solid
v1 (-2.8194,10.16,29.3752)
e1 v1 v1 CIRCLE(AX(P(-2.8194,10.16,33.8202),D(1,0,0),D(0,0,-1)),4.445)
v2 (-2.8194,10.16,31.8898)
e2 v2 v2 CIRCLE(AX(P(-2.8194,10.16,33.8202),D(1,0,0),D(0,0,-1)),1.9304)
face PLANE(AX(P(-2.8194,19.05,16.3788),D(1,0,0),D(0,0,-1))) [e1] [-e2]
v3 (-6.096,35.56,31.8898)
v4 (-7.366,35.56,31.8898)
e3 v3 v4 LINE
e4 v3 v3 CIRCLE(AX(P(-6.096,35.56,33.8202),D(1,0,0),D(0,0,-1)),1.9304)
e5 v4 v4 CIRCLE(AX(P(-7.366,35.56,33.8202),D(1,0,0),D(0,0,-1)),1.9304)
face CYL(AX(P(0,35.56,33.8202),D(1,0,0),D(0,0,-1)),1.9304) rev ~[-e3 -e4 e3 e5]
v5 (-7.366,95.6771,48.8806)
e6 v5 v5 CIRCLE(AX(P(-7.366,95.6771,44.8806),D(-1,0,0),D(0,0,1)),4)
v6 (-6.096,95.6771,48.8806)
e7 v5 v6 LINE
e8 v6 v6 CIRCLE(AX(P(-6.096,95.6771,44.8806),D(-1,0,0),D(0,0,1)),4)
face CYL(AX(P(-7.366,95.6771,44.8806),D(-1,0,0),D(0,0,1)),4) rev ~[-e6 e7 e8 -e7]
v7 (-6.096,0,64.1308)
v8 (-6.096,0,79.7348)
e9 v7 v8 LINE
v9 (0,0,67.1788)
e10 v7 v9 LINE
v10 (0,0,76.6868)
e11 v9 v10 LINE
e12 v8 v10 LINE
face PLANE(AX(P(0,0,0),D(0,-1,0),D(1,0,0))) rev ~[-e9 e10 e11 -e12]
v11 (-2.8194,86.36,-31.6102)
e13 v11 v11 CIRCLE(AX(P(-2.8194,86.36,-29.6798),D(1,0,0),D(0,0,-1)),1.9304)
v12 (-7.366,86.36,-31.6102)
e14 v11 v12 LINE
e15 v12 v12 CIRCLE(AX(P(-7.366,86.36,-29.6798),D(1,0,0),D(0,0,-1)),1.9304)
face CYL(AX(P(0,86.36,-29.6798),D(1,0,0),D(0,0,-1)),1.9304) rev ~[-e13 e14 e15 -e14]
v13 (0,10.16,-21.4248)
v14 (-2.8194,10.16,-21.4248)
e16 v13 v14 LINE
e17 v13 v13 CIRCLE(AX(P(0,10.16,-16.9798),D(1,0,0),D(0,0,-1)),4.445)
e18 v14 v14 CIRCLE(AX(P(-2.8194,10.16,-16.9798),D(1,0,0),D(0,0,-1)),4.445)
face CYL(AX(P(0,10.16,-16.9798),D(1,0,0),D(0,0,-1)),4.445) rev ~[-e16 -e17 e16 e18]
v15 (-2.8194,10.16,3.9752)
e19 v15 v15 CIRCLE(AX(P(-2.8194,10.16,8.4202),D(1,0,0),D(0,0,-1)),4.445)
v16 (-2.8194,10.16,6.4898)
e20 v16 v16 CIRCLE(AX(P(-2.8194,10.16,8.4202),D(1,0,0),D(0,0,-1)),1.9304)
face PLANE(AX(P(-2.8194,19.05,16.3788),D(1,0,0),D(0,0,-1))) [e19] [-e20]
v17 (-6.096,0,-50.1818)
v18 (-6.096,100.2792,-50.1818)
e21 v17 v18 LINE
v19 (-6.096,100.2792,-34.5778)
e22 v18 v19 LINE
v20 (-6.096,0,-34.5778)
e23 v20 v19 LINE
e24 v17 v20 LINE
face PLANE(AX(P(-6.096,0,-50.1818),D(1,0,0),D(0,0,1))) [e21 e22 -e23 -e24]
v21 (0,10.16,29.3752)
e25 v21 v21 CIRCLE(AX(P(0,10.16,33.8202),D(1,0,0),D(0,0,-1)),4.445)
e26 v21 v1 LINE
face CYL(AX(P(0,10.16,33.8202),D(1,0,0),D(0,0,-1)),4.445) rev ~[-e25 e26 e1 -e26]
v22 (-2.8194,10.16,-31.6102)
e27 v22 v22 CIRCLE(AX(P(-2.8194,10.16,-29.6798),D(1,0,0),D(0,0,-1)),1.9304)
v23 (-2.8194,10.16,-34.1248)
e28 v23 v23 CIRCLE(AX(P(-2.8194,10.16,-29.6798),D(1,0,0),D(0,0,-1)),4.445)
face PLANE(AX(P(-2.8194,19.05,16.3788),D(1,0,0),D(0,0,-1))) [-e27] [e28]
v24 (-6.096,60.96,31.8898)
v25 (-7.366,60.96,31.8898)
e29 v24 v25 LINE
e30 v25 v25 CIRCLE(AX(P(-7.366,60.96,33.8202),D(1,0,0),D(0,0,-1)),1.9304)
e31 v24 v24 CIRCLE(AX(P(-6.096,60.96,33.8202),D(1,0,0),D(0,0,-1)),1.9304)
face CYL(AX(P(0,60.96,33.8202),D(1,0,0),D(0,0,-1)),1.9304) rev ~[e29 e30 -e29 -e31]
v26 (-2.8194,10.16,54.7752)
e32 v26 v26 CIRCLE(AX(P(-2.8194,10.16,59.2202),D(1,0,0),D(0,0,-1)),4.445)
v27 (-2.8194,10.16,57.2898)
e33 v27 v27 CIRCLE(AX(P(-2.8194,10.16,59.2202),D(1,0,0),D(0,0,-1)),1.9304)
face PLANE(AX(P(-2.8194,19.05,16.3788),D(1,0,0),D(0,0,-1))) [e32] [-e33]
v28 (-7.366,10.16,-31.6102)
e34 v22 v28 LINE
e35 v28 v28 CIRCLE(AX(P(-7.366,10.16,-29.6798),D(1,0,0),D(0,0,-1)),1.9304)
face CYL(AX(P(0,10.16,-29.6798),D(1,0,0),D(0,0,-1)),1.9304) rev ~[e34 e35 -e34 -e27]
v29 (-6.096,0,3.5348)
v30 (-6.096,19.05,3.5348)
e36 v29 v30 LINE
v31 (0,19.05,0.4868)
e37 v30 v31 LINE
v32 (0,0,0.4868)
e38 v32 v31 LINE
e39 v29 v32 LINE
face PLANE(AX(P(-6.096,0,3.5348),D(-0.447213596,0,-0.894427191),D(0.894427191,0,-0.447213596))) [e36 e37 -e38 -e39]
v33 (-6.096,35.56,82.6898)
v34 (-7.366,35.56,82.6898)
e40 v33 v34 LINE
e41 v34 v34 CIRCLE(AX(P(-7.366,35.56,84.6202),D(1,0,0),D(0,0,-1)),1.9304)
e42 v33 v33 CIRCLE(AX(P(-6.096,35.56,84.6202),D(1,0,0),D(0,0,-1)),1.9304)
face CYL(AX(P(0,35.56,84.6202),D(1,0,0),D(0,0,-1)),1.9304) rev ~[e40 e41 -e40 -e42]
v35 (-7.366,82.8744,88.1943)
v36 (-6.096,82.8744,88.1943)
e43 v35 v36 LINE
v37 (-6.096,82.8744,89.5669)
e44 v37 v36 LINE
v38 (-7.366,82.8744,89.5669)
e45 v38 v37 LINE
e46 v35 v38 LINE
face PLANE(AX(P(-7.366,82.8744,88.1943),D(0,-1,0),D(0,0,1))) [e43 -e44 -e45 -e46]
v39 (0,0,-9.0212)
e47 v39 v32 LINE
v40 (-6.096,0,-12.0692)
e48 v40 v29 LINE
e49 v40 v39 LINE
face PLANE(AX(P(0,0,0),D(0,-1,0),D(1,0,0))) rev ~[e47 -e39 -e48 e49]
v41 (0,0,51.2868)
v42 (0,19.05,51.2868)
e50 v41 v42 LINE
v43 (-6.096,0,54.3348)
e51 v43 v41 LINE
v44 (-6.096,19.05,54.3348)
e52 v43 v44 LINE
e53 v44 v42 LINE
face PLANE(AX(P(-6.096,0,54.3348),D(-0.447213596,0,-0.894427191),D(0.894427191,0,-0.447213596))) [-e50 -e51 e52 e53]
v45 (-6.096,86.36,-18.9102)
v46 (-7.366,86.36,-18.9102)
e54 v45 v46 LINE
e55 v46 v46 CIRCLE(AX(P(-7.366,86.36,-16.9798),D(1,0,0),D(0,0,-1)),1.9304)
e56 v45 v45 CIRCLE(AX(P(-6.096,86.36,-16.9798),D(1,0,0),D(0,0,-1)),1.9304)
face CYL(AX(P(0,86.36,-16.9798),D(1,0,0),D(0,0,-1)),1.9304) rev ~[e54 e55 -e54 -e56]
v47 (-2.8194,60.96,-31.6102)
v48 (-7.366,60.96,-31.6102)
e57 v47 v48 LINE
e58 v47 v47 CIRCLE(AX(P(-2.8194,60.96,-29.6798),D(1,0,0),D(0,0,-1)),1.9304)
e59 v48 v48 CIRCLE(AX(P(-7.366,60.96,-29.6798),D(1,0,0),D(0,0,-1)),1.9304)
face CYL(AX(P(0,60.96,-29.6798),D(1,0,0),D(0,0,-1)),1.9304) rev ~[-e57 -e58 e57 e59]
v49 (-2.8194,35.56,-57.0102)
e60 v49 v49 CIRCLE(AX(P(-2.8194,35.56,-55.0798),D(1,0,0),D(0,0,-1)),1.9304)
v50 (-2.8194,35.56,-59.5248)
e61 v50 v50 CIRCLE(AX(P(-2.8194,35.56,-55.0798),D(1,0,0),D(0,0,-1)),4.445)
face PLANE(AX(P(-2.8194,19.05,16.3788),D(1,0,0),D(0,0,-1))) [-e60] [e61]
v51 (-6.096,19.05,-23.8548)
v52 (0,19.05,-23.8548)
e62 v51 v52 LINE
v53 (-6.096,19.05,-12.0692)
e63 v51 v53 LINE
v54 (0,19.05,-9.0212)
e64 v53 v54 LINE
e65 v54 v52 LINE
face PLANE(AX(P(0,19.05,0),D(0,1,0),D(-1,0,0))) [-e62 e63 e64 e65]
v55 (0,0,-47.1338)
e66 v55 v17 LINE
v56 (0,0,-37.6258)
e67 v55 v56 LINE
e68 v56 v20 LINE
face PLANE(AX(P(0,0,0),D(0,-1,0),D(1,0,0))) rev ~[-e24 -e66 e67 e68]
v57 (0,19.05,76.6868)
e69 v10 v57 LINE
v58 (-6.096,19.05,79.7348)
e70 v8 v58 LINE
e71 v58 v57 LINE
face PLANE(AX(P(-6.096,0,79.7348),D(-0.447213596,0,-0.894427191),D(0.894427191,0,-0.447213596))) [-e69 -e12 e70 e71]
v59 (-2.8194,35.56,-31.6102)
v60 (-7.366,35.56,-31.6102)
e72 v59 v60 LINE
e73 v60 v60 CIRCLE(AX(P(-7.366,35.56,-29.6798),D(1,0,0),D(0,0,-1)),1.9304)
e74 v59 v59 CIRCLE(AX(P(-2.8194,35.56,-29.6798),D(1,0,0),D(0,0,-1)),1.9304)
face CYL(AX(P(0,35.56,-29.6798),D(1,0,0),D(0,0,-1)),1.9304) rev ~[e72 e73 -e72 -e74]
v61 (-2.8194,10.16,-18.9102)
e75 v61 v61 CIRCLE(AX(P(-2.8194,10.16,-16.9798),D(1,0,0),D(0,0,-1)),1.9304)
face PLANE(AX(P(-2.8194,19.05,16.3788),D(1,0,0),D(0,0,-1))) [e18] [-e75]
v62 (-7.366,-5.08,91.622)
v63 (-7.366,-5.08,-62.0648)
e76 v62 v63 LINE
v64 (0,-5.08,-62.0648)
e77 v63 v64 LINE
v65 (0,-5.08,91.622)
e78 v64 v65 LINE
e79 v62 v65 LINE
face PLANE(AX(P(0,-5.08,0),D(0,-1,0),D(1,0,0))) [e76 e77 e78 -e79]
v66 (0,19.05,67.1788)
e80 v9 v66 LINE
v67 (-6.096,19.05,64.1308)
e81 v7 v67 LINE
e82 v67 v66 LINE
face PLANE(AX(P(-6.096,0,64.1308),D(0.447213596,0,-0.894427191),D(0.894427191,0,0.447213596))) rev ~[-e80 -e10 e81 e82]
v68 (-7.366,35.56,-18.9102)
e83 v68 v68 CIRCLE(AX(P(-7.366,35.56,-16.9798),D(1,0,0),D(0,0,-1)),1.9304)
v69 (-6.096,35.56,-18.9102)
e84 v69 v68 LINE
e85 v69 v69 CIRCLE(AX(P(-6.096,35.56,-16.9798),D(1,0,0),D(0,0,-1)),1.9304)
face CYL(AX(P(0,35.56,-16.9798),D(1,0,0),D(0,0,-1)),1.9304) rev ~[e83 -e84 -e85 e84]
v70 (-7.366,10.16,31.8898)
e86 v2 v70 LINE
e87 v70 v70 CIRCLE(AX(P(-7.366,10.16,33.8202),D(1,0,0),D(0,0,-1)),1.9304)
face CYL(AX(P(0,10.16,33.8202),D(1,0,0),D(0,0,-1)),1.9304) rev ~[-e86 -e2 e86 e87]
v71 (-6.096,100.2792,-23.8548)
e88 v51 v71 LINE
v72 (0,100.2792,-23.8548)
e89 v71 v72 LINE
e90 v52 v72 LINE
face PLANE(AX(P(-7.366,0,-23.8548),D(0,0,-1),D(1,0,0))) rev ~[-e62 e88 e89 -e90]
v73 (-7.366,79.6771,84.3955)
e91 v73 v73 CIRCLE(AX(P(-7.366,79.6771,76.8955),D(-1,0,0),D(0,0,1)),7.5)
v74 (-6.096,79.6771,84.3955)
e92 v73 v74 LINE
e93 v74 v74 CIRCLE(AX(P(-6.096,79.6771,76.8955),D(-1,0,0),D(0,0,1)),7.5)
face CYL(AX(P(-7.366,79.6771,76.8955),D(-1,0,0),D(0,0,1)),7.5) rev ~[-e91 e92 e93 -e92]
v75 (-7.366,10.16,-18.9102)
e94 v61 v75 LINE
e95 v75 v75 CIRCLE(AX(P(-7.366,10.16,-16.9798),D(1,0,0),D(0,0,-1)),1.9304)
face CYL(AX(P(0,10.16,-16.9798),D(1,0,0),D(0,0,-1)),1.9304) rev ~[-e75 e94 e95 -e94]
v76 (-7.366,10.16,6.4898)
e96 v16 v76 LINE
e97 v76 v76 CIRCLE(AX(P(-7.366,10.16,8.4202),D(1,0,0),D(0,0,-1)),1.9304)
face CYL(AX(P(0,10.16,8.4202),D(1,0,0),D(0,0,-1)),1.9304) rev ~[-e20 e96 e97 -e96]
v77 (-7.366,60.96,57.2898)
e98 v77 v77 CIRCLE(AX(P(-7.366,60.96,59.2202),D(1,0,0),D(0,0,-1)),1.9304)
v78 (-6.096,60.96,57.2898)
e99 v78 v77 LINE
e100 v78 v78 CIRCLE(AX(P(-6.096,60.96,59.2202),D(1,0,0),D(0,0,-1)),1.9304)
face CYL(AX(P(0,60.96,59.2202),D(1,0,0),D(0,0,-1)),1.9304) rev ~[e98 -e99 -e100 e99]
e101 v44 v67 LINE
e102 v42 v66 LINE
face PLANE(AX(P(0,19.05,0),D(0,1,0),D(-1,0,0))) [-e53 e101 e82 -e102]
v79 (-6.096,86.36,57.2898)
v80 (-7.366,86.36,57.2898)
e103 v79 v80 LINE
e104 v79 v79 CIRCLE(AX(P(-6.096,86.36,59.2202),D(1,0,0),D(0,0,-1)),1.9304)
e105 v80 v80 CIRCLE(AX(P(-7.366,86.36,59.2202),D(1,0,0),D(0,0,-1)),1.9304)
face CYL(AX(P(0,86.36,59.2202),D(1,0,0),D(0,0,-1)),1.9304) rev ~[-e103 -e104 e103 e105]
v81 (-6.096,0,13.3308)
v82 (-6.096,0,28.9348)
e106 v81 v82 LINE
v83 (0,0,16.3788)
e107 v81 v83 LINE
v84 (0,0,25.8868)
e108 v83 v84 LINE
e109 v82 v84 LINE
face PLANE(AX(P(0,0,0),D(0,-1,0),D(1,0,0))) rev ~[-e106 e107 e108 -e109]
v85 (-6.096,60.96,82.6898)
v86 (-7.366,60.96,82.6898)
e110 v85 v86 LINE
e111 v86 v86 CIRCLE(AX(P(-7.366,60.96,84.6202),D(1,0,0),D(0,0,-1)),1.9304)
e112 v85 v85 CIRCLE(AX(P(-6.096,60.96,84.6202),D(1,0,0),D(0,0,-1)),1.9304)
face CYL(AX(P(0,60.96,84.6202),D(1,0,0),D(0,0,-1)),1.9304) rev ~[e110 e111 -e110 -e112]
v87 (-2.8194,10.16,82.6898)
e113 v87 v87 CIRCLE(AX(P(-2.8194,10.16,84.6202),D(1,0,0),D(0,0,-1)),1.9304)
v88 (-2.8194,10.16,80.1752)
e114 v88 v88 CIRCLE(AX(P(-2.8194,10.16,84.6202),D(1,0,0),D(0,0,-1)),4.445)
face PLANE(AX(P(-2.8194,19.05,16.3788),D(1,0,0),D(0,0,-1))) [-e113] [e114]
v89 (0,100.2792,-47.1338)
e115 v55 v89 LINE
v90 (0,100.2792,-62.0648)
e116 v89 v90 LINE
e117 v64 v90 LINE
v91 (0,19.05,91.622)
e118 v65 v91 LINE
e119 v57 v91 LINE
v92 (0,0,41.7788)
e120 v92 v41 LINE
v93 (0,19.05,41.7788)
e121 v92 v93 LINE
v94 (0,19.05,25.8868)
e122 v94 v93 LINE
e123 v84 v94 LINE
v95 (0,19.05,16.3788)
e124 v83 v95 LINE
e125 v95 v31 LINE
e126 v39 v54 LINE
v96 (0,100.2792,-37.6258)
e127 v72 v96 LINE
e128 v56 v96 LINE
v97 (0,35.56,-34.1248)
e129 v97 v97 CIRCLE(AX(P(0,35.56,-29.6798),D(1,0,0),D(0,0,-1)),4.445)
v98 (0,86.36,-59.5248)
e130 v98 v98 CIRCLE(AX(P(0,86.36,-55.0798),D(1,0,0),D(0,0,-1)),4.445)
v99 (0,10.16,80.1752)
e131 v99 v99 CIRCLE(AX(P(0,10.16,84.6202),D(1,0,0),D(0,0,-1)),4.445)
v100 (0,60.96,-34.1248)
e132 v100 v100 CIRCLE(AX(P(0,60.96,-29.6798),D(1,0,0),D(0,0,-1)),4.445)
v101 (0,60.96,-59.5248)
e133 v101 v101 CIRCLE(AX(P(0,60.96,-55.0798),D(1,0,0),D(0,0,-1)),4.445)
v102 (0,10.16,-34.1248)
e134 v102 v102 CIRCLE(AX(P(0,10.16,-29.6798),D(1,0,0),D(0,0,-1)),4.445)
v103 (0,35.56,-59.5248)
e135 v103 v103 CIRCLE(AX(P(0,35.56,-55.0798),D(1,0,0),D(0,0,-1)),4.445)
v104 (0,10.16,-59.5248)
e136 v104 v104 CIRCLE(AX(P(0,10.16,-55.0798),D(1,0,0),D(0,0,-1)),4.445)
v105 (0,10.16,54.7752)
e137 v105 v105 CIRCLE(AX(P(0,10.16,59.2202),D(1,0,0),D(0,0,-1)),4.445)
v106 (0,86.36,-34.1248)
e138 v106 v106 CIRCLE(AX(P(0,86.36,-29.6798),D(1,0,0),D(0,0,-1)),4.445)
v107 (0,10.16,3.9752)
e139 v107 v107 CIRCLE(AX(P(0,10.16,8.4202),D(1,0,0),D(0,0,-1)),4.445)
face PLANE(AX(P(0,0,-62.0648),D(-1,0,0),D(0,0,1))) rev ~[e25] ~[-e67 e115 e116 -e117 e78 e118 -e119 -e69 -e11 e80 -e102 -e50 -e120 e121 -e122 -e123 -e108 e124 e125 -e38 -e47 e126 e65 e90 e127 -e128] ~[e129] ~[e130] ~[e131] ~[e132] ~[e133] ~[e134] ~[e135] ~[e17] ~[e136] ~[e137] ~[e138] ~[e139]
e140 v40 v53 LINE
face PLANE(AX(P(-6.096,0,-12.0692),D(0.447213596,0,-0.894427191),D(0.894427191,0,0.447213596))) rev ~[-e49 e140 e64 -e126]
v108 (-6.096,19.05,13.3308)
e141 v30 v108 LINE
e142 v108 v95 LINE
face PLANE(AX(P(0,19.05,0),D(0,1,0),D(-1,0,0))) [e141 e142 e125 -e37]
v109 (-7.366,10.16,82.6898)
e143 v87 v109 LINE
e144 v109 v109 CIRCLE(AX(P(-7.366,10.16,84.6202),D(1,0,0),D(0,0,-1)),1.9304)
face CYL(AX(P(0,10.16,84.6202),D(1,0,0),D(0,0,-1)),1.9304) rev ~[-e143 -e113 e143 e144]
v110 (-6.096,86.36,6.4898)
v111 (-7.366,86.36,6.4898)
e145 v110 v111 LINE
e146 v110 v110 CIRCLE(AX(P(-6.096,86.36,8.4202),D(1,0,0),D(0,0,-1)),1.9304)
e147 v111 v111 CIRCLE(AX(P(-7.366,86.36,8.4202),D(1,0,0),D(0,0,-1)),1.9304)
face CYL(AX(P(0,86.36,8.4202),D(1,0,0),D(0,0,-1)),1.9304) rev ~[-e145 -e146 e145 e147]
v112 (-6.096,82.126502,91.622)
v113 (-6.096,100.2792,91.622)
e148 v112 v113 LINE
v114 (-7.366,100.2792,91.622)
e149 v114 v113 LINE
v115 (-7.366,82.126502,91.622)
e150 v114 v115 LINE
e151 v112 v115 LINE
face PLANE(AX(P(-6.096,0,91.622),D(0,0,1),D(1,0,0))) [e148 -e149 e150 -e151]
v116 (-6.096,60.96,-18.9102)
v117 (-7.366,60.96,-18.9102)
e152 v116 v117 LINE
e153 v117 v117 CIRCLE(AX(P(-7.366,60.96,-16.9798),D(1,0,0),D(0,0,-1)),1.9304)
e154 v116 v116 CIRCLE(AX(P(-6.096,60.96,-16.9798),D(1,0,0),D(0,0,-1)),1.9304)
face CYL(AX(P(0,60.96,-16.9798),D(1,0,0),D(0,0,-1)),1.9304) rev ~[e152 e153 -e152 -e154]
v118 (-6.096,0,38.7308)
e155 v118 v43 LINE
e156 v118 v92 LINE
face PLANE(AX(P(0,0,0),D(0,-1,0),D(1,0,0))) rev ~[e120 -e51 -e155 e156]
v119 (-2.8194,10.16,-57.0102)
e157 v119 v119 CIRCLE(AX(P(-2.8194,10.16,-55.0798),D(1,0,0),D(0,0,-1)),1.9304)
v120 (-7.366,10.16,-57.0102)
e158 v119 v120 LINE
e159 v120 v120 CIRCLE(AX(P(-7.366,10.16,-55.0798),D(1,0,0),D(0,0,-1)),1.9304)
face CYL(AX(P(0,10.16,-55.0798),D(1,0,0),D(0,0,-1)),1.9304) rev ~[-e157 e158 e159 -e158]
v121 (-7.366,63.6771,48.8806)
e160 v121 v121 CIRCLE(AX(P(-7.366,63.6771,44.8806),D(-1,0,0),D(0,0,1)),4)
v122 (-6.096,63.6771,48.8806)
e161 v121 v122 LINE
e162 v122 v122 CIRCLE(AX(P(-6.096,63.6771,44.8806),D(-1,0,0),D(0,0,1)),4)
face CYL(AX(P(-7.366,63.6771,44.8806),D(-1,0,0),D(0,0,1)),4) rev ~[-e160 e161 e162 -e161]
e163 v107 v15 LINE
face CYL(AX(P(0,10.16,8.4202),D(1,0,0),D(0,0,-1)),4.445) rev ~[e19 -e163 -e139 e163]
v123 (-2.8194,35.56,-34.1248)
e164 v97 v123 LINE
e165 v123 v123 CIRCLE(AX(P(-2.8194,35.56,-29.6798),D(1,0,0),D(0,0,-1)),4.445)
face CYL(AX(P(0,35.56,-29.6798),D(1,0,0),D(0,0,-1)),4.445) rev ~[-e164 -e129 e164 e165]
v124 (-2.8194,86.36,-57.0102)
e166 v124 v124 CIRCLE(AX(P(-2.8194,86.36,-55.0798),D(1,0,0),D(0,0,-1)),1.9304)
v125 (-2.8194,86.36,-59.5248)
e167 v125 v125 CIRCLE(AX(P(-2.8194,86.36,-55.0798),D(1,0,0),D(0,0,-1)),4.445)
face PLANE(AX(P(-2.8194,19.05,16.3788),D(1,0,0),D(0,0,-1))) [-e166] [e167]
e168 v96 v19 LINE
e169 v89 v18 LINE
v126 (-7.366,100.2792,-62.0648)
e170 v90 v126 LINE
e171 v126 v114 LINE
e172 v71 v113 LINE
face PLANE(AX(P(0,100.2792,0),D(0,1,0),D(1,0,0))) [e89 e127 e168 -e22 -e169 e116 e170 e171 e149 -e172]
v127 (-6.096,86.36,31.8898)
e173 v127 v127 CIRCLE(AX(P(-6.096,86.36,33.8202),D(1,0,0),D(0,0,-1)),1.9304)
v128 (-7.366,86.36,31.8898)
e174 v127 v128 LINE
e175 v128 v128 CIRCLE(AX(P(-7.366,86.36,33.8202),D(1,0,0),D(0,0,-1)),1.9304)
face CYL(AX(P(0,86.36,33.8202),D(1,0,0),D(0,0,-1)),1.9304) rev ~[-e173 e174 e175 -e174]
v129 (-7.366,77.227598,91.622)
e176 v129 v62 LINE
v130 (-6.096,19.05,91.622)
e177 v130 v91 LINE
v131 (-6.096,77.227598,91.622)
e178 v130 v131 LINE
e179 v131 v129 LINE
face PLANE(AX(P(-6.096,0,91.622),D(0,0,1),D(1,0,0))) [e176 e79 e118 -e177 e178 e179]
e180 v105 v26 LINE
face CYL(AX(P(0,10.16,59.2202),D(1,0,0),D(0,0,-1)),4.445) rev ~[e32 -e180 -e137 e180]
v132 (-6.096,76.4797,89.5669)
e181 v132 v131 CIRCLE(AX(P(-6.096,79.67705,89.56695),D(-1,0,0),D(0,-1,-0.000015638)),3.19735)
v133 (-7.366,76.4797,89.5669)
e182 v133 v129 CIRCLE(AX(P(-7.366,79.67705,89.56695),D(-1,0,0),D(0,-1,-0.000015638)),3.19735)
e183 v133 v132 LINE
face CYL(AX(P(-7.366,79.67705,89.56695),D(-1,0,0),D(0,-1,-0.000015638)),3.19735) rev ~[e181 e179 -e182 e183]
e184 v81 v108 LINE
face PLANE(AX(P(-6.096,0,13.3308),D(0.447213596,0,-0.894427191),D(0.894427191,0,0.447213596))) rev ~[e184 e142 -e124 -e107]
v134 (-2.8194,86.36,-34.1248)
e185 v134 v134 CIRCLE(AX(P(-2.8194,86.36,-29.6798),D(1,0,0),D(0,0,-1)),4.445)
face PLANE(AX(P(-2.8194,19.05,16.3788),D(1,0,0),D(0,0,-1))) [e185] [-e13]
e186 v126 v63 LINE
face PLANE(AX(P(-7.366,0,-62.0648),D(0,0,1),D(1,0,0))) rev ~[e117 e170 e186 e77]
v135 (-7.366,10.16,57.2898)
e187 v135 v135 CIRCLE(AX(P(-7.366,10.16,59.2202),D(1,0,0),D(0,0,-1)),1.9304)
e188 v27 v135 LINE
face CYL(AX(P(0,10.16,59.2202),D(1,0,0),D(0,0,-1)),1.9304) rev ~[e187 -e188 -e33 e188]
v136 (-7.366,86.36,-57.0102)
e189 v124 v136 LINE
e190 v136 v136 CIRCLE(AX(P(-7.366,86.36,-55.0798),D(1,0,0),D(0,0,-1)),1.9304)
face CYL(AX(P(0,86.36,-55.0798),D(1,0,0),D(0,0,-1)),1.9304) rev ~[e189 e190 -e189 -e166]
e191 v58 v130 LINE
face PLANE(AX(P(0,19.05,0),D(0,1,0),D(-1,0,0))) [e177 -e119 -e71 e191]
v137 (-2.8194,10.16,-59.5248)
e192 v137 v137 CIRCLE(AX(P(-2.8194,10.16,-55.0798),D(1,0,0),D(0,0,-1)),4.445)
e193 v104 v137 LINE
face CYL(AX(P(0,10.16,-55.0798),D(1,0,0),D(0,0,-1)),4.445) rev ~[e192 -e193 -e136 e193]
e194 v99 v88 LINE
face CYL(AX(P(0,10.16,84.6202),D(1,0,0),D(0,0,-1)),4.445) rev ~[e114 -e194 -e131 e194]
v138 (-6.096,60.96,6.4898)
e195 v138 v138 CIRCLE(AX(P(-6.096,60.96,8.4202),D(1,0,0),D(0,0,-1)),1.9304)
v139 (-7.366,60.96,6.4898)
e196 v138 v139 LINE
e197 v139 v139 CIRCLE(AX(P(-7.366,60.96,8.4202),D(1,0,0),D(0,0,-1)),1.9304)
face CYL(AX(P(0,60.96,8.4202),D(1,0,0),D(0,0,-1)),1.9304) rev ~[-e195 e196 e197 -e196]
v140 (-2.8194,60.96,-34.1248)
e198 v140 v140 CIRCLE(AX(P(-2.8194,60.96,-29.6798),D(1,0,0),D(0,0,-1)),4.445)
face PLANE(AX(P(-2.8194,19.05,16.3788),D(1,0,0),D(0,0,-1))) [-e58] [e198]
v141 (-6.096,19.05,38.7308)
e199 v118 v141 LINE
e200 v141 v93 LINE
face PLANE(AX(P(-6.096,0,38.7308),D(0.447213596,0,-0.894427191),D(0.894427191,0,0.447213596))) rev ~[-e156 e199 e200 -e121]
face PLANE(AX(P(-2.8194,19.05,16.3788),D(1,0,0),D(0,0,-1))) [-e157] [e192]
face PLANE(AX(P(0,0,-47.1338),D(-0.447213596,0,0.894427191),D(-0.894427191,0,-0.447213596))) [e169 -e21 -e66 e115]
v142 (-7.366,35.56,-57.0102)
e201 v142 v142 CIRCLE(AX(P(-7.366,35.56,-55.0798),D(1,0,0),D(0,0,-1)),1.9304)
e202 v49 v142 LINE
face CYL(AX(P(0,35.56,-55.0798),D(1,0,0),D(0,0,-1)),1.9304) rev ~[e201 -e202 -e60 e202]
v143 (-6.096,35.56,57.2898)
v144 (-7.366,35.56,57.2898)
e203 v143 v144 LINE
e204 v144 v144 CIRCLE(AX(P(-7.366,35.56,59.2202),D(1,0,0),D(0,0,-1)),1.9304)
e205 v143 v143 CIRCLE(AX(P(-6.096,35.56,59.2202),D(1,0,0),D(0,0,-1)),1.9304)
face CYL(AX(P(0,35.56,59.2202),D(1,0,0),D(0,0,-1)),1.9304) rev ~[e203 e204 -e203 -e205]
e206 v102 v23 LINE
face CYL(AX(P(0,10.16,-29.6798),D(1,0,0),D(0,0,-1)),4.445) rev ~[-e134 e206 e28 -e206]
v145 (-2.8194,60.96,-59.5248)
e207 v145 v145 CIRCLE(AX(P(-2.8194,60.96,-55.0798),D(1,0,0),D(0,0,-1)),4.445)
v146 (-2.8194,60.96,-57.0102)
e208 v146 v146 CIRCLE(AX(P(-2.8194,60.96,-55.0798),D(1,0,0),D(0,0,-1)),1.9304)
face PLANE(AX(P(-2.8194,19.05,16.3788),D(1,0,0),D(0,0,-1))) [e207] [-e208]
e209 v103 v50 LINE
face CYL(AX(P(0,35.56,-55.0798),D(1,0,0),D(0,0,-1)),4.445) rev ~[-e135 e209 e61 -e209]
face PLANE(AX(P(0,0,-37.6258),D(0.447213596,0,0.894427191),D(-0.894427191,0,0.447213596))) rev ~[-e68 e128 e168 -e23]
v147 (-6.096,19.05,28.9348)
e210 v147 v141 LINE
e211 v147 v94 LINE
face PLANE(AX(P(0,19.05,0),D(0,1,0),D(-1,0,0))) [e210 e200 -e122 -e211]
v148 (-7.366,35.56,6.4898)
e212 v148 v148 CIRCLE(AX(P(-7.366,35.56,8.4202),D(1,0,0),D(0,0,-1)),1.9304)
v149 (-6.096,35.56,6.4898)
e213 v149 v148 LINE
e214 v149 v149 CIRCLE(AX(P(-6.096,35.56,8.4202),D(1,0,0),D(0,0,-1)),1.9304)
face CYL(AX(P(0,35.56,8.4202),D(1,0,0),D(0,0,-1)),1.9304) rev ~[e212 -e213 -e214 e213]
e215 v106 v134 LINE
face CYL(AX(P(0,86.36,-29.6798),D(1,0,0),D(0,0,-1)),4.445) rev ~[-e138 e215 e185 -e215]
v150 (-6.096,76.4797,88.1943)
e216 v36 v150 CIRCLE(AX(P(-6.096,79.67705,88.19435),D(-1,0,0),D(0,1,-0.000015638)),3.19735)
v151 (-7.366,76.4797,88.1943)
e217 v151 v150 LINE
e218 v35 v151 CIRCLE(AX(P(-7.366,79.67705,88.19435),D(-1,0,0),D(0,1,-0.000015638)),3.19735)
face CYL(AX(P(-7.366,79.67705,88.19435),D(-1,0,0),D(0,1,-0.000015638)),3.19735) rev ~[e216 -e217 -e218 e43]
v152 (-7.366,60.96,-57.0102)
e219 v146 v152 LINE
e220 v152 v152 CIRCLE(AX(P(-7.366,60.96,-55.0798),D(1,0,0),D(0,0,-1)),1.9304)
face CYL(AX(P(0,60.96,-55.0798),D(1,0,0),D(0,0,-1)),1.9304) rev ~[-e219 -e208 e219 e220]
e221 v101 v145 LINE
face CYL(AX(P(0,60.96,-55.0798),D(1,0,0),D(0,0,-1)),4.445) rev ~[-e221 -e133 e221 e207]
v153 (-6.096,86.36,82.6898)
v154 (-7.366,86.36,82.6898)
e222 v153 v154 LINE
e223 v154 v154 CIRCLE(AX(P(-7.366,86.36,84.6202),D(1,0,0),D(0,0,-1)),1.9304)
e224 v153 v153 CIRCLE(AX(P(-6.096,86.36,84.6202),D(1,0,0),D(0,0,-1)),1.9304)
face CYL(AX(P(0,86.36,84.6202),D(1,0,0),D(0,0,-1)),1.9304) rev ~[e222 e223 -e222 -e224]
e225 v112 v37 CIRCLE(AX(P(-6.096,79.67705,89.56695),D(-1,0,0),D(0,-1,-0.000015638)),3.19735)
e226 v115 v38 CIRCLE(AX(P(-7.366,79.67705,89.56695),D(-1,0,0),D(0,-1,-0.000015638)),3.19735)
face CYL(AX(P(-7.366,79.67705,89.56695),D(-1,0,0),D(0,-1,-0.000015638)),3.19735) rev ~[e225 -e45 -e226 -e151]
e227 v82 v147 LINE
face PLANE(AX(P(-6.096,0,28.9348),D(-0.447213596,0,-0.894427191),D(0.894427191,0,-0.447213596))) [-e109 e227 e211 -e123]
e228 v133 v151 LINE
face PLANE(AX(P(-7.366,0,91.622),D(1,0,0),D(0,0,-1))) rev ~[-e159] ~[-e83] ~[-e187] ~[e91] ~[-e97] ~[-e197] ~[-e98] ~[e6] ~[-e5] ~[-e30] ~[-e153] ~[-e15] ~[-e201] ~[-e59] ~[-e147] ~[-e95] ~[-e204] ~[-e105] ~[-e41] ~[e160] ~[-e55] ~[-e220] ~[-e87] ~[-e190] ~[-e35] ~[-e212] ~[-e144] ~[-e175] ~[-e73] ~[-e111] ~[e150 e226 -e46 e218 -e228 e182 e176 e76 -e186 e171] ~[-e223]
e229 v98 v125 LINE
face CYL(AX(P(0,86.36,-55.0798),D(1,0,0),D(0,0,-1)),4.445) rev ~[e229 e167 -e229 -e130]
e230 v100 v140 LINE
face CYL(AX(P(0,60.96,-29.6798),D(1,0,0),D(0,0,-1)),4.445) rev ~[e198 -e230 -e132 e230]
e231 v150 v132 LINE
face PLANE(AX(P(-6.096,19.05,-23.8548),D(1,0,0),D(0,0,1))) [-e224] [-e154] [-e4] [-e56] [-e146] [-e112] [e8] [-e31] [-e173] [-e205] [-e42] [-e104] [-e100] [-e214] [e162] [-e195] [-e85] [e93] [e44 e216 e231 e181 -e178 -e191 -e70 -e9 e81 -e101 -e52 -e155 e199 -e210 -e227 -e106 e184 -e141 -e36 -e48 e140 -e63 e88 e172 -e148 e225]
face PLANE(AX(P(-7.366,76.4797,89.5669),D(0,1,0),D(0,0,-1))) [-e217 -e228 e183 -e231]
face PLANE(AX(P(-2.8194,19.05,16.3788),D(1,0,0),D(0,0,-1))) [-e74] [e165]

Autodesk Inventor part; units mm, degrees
ref_plane "YZ Plane" through (0, 0, 0) normal (1, 0, 0) x (0, 1, 0)
ref_plane "XZ Plane" through (0, 0, 0) normal (0, 1, 0) x (-1, 0, 0)
ref_plane "XY Plane" through (0, 0, 0) normal (0, 0, 1) x (1, 0, 0)
sketch "Sketch1" plane through (0, 0, 0) normal (0, 1, 0) x (-1, 0, 0)
  line L0 (7.366, 6.1452) -> (7.366, -23.8548)
  line L1 (7.366, -23.8548) -> (0, -23.8548)
  line L2 (6.096, -8.0476) -> (6.096, -9.0212)
  line L3 (0, 0.4868) -> (0, 3.5348)
  line L4 (6.096, 3.5348) -> (6.096, -8.0476)
  line L5 (0, -9.0212) -> (0, -11.8152)
  line L6 (6.096, -12.0692) -> (6.096, -9.0212)
  line L7 (6.096, 3.5348) -> (0, 0.4868)
  line L8 (6.096, -12.0692) -> (0, -9.0212)
  line L9 (0, -23.8548) -> (0, -9.0212)
  line L10 (0, 0.4868) -> (0, 16.3788)
  line L11 (6.096, 13.3308) -> (6.096, 16.3788)
  line L12 (6.096, 13.3308) -> (0, 16.3788)
  line L13 (6.096, 28.9348) -> (6.096, 17.3524)
  line L14 (6.096, 28.9348) -> (0, 25.8868)
  line L15 (6.096, 17.3524) -> (6.096, 16.3788)
  line L16 (6.096, 38.7308) -> (6.096, 41.7788)
  line L17 (6.096, 38.7308) -> (0, 41.7788)
  line L18 (6.096, 54.3348) -> (6.096, 42.7524)
  line L19 (6.096, 54.3348) -> (0, 51.2868)
  line L20 (6.096, 42.7524) -> (6.096, 41.7788)
  line L21 (6.096, 64.1308) -> (6.096, 67.1788)
  line L22 (6.096, 64.1308) -> (0, 67.1788)
  line L23 (6.096, 79.7348) -> (6.096, 68.1524)
  line L24 (6.096, 79.7348) -> (0, 76.6868)
  line L25 (6.096, 68.1524) -> (6.096, 67.1788)
  line L26 (7.366, 6.1452) -> (7.366, 91.622)
  line L27 (7.366, 91.622) -> (0, 91.622)
  line L28 (0, 25.8868) -> (0, 41.7788)
  line L29 (0, 51.2868) -> (0, 67.1788)
  line L30 (0, 76.6868) -> (0, 91.622)
  line L31 (6.096, -4.2672) -> (4.0009, -4.2672) construction
  point P0 (0, 0)
  dimension "d0" = 7.366
  dimension "d8" = 9.508
  dimension "d10" = 3.048
  dimension "d11" = 3.048
  dimension "d12" = 6.096
  dimension "d17" = 25.4
  dimension "d24" = 11.7856
  dimension "d67" = 115.4768
  dimension "d70" = 23.8548
  dimension "d71" = 4.754
extrude "MultipleTeeth" add sketch "Sketch1" along normal blind 19.05
sketch "Sketch2" plane through (0, 0, 0) normal (0, -1, 0) x (1, 0, 0)
  line L0 (0, 0.4868) -> (-6.096, 3.5348) construction
  line L1 (-6.096, 3.5348) -> (-6.096, -12.0692) construction
  line L2 (-6.096, -12.0692) -> (0, -9.0212) construction
  line L3 (0, 16.3788) -> (0, 0.4868) projected
  line L4 (0, 0.4868) -> (-6.096, 3.5348)
  line L5 (-6.096, -12.0692) -> (0, -9.0212) projected
  line L6 (-6.096, 3.5348) -> (-6.096, -12.0692) projected
  line L7 (-6.096, -12.0692) -> (-6.096, 3.5348)
  line L8 (0, -9.0212) -> (-6.096, -12.0692)
  line L9 (-7.366, -23.8548) -> (-7.366, 91.622) projected
  line L10 (-7.366, -59.508) -> (-7.366, -32.8548)
  line L11 (-7.366, -23.8548) -> (0, -23.8548)
  line L12 (-7.366, 91.622) -> (0, 91.622) projected
  line L13 (-7.366, -55.8503) -> (-7.366, -40.458) construction
  line L14 (0, -43.0234) -> (0, -59.508) construction
  line L15 (-6.096, -62.0648) -> (0, -62.0648) construction
  line L16 (0, -32.8548) -> (0, -37.6258)
  line L17 (0, -49.9828) -> (0, -62.0648)
  line L18 (0, -62.0648) -> (0, -59.508)
  line L19 (0, -32.8548) -> (-7.366, -32.8548) construction
  line L20 (0, -51.9048) -> (-7.366, -51.9048) construction
  line L21 (0, -42.3798) -> (-7.366, -42.3798) construction
  line L22 (-6.096, -12.0692) -> (-6.096, -62.0648) construction
  line L23 (0, -37.6258) -> (-6.096, -34.5778)
  line L24 (-6.096, -50.1818) -> (-6.096, -34.5778)
  line L25 (0, -47.1338) -> (-6.096, -50.1818)
  line L26 (0, -9.0212) -> (0, -23.8548) projected
  line L27 (0, -23.8548) -> (0, -32.8548)
  line L28 (-7.366, -32.8548) -> (-7.366, -23.8548)
  line L29 (0, -49.9828) -> (0, -47.1338)
  line L30 (0, -62.0648) -> (-7.366, -62.0648)
  line L31 (-7.366, -62.0648) -> (-7.366, -59.508)
  point P0 (0, 0)
  dimension "d25" = 115.4768
  dimension "d33" = 9
  dimension "d34" = 19.05
  dimension "d36" = 9.525
  dimension "d38" = 10.16
extrude "LongTooth" add sketch "Sketch2" against normal blind 100.2792
sketch "Sketch3" plane through (0, 19.05, 0) normal (0, 1, 0) x (1, 0, 0)
  line L0 (-6.096, -3.5348) -> (-6.096, 12.0692) construction
  line L1 (0, 23.8548) -> (-7.366, 23.8548) projected
  line L2 (-7.366, -91.622) -> (0, -91.622) projected
  line L3 (-7.366, 23.8548) -> (-6.096, 23.8548)
  line L4 (-6.096, 23.8548) -> (-6.096, -91.622)
  line L5 (-6.096, -91.622) -> (-7.366, -91.622)
  line L6 (-7.366, -91.622) -> (-7.366, 23.8548)
  point P0 (0, 0)
extrude "ThinPlate" add sketch "Sketch3" along normal up to surface (81.2292 mm away)
sketch "Sketch4" plane through (0, 0, 0) normal (0, -1, 0) x (1, 0, 0)
  line L0 (-6.096, 91.622) -> (0, 91.622) projected
  line L1 (-7.366, 91.622) -> (-7.366, -62.0648) projected
  line L2 (0, 91.622) -> (-7.366, 91.622)
  line L3 (-7.366, 91.622) -> (-7.366, -62.0648)
  line L4 (-7.366, -62.0648) -> (0, -62.0648)
  line L5 (0, -62.0648) -> (0, 91.622)
  point P0 (0, 0)
extrude "Extrusion4" add sketch "Sketch4" along normal blind 5.08
ref_plane "Work Plane1" through (-15.892, 0, 8.4328) normal (0, 0, 1) x (0, 1, 0)
sketch "Sketch6" plane through (0, 19.05, 16.3788) normal (1, 0, 0) x (0, 0, -1)
  circle A0 centre (71.4586, -8.89) radius 1.9304
  line L0 (78.4436, -24.13) -> (78.4436, 81.2292) projected
  line L1 (78.4436, -24.13) -> (-75.2432, -24.13) projected
  circle A1 centre (58.7586, -8.89) radius 1.9304
  circle A2 centre (46.0586, -8.89) radius 1.9304
  circle A3 centre (71.4586, 3.81) radius 1.9304
  circle A4 centre (58.7586, 3.81) radius 1.9304
  circle A5 centre (46.0586, 3.81) radius 1.9304
  circle A6 centre (71.4586, 16.51) radius 1.9304
  circle A7 centre (58.7586, 16.51) radius 1.9304
  circle A8 centre (46.0586, 16.51) radius 1.9304
  circle A9 centre (71.4586, 29.21) radius 1.9304
  circle A10 centre (58.7586, 29.21) radius 1.9304
  circle A11 centre (46.0586, 29.21) radius 1.9304
  circle A12 centre (71.4586, 41.91) radius 1.9304
  circle A13 centre (58.7586, 41.91) radius 1.9304
  circle A14 centre (46.0586, 41.91) radius 1.9304
  circle A15 centre (71.4586, 54.61) radius 1.9304
  circle A16 centre (58.7586, 54.61) radius 1.9304
  circle A17 centre (46.0586, 54.61) radius 1.9304
  circle A18 centre (71.4586, 67.31) radius 1.9304
  circle A19 centre (58.7586, 67.31) radius 1.9304
  circle A20 centre (46.0586, 67.31) radius 1.9304
  circle A21 centre (33.3586, -8.89) radius 1.9304
  circle A22 centre (33.3586, 3.81) radius 1.9304
  circle A23 centre (33.3586, 16.51) radius 1.9304
  circle A24 centre (33.3586, 29.21) radius 1.9304
  circle A25 centre (33.3586, 41.91) radius 1.9304
  circle A26 centre (33.3586, 54.61) radius 1.9304
  circle A27 centre (33.3586, 67.31) radius 1.9304
  circle A28 centre (20.6586, -8.89) radius 1.9304
  circle A29 centre (20.6586, 3.81) radius 1.9304
  circle A30 centre (20.6586, 16.51) radius 1.9304
  circle A31 centre (20.6586, 29.21) radius 1.9304
  circle A32 centre (20.6586, 41.91) radius 1.9304
  circle A33 centre (20.6586, 54.61) radius 1.9304
  circle A34 centre (20.6586, 67.31) radius 1.9304
  circle A35 centre (7.9586, -8.89) radius 1.9304
  circle A36 centre (7.9586, 3.81) radius 1.9304
  circle A37 centre (7.9586, 16.51) radius 1.9304
  circle A38 centre (7.9586, 29.21) radius 1.9304
  circle A39 centre (7.9586, 41.91) radius 1.9304
  circle A40 centre (7.9586, 54.61) radius 1.9304
  circle A41 centre (7.9586, 67.31) radius 1.9304
  circle A42 centre (-4.7414, -8.89) radius 1.9304
  circle A43 centre (-4.7414, 3.81) radius 1.9304
  circle A44 centre (-4.7414, 16.51) radius 1.9304
  circle A45 centre (-4.7414, 29.21) radius 1.9304
  circle A46 centre (-4.7414, 41.91) radius 1.9304
  circle A47 centre (-4.7414, 54.61) radius 1.9304
  circle A48 centre (-4.7414, 67.31) radius 1.9304
  circle A49 centre (-17.4414, -8.89) radius 1.9304
  circle A50 centre (-17.4414, 3.81) radius 1.9304
  circle A51 centre (-17.4414, 16.51) radius 1.9304
  circle A52 centre (-17.4414, 29.21) radius 1.9304
  circle A53 centre (-17.4414, 41.91) radius 1.9304
  circle A54 centre (-17.4414, 54.61) radius 1.9304
  circle A55 centre (-17.4414, 67.31) radius 1.9304
  circle A56 centre (-30.1414, -8.89) radius 1.9304
  circle A57 centre (-30.1414, 3.81) radius 1.9304
  circle A58 centre (-30.1414, 16.51) radius 1.9304
  circle A59 centre (-30.1414, 29.21) radius 1.9304
  circle A60 centre (-30.1414, 41.91) radius 1.9304
  circle A61 centre (-30.1414, 54.61) radius 1.9304
  circle A62 centre (-30.1414, 67.31) radius 1.9304
  circle A63 centre (-42.8414, -8.89) radius 1.9304
  circle A64 centre (-42.8414, 3.81) radius 1.9304
  circle A65 centre (-42.8414, 16.51) radius 1.9304
  circle A66 centre (-42.8414, 29.21) radius 1.9304
  circle A67 centre (-42.8414, 41.91) radius 1.9304
  circle A68 centre (-42.8414, 54.61) radius 1.9304
  circle A69 centre (-42.8414, 67.31) radius 1.9304
  circle A70 centre (-55.5414, -8.89) radius 1.9304
  circle A71 centre (-55.5414, 3.81) radius 1.9304
  circle A72 centre (-55.5414, 16.51) radius 1.9304
  circle A73 centre (-55.5414, 29.21) radius 1.9304
  circle A74 centre (-55.5414, 41.91) radius 1.9304
  circle A75 centre (-55.5414, 54.61) radius 1.9304
  circle A76 centre (-55.5414, 67.31) radius 1.9304
  circle A77 centre (-68.2414, -8.89) radius 1.9304
  circle A78 centre (-68.2414, 3.81) radius 1.9304
  circle A79 centre (-68.2414, 16.51) radius 1.9304
  circle A80 centre (-68.2414, 29.21) radius 1.9304
  circle A81 centre (-68.2414, 41.91) radius 1.9304
  circle A82 centre (-68.2414, 54.61) radius 1.9304
  circle A83 centre (-68.2414, 67.31) radius 1.9304
  point P0 (16.3788, -19.05)
  dimension "d56" = 3.8608
  dimension "d57" = 6.985
  dimension "d58" = 15.24
  dimension "d61" = 12.7
  dimension "d64" = 12.7
extrude "Extrusion5" cut sketch "Sketch6" against normal through all contours A0 | A2 | A6 | A8 | A12 | A14 | A18 | A20 | A21 | A23 | A25 | A27 | A35 | A37 | A39 | A41 | A49 | A51 | A53 | A55 | A63 | A65 | A67 | A69 | A77 | A79 | A81 | A83
sketch "Sketch7" plane through (0, 19.05, 16.3788) normal (1, 0, 0) x (0, 0, -1)
  circle A0 centre (-68.2414, -8.89) radius 1.9304 projected
  circle A1 centre (-68.2414, -8.89) radius 4.445
  circle A2 centre (-42.8414, -8.89) radius 1.9304 projected
  circle A3 centre (-42.8414, -8.89) radius 4.445
  circle A4 centre (-17.4414, -8.89) radius 1.9304 projected
  circle A5 centre (-17.4414, -8.89) radius 4.445
  circle A6 centre (7.9586, -8.89) radius 1.9304 projected
  circle A7 centre (7.9586, -8.89) radius 4.445
  circle A8 centre (33.3586, -8.89) radius 1.9304 projected
  circle A9 centre (33.3586, -8.89) radius 4.445
  circle A10 centre (46.0586, -8.89) radius 1.9304 projected
  circle A11 centre (46.0586, -8.89) radius 4.445
  circle A12 centre (71.4586, -8.89) radius 1.9304 projected
  circle A13 centre (71.4586, -8.89) radius 4.445
  circle A14 centre (46.0586, 16.51) radius 1.9304 projected
  circle A15 centre (46.0586, 16.51) radius 4.445
  circle A16 centre (71.4586, 16.51) radius 1.9304 projected
  circle A17 centre (71.4586, 16.51) radius 4.445
  circle A18 centre (46.0586, 41.91) radius 1.9304 projected
  circle A19 centre (46.0586, 41.91) radius 4.445
  circle A20 centre (71.4586, 41.91) radius 1.9304 projected
  circle A21 centre (71.4586, 41.91) radius 4.445
  circle A22 centre (46.0586, 67.31) radius 1.9304 projected
  circle A23 centre (46.0586, 67.31) radius 4.445
  circle A24 centre (71.4586, 67.31) radius 4.445
  point P0 (16.3788, -19.05)
  dimension "d74" = 8.89
  dimension "d75" = 8.89
  dimension "d76" = 8.89
  dimension "d77" = 8.89
  dimension "d78" = 8.89
  dimension "d79" = 8.89
  dimension "d80" = 8.89
  dimension "d81" = 8.89
  dimension "d82" = 8.89
  dimension "d83" = 8.89
  dimension "d84" = 8.89
  dimension "d85" = 8.89
  dimension "d86" = 8.89
extrude "Extrusion6" cut sketch "Sketch7" against normal blind 2.8194 contours A0 | A1 | A2 | A3 | A4 | A5 | A6 | A7 | A8 | A9 | A10 | A11 | A12 | A13 | A14 | A15 | A16 | A17 | A18 | A19 | A20 | A21 | A22 | A23 | A24
sketch "Sketch8" plane through (-7.366, 100.2792, -62.0648) normal (-1, 0, 0) x (0, 0, 1)
  circle A0 centre (138.9603, -20.6021) radius 7.5 projected
  arc A1 (150.2591, -17.4048) -> (150.2591, -23.7995) centre (150.2591, -20.6021) ccw projected
  line L0 (151.6317, -23.7995) -> (150.2591, -23.7995) projected
  line L1 (150.2591, -17.4048) -> (151.6317, -17.4048) projected
  arc A2 (151.6317, -23.7995) -> (151.6317, -17.4048) centre (151.6317, -20.6021) ccw projected
  circle A3 centre (122.9454, -84.6021) radius 2.286 construction
  circle A4 centre (106.9454, -36.6021) radius 4 projected
  circle A5 centre (106.9454, -4.6021) radius 4 projected
  circle A6 centre (26.9454, -52.6021) radius 4 construction
  circle A7 centre (26.9454, -84.6021) radius 4 construction
  circle A8 centre (-5.0694, -68.6021) radius 7.5 construction
  circle A9 centre (-69.565, -9.819) radius 1.7 construction
  point P0 (62.0648, -100.2792)
extrude "Extrusion7" cut sketch "Sketch8" against normal blind 25.4
equation "\"d11\" = d10"
equation "\"d71\" = 0.5 * d8"
equation "\"d36\" = 0.5 * d34"
properties part number "Lift mount receiver left for metal drive train"
